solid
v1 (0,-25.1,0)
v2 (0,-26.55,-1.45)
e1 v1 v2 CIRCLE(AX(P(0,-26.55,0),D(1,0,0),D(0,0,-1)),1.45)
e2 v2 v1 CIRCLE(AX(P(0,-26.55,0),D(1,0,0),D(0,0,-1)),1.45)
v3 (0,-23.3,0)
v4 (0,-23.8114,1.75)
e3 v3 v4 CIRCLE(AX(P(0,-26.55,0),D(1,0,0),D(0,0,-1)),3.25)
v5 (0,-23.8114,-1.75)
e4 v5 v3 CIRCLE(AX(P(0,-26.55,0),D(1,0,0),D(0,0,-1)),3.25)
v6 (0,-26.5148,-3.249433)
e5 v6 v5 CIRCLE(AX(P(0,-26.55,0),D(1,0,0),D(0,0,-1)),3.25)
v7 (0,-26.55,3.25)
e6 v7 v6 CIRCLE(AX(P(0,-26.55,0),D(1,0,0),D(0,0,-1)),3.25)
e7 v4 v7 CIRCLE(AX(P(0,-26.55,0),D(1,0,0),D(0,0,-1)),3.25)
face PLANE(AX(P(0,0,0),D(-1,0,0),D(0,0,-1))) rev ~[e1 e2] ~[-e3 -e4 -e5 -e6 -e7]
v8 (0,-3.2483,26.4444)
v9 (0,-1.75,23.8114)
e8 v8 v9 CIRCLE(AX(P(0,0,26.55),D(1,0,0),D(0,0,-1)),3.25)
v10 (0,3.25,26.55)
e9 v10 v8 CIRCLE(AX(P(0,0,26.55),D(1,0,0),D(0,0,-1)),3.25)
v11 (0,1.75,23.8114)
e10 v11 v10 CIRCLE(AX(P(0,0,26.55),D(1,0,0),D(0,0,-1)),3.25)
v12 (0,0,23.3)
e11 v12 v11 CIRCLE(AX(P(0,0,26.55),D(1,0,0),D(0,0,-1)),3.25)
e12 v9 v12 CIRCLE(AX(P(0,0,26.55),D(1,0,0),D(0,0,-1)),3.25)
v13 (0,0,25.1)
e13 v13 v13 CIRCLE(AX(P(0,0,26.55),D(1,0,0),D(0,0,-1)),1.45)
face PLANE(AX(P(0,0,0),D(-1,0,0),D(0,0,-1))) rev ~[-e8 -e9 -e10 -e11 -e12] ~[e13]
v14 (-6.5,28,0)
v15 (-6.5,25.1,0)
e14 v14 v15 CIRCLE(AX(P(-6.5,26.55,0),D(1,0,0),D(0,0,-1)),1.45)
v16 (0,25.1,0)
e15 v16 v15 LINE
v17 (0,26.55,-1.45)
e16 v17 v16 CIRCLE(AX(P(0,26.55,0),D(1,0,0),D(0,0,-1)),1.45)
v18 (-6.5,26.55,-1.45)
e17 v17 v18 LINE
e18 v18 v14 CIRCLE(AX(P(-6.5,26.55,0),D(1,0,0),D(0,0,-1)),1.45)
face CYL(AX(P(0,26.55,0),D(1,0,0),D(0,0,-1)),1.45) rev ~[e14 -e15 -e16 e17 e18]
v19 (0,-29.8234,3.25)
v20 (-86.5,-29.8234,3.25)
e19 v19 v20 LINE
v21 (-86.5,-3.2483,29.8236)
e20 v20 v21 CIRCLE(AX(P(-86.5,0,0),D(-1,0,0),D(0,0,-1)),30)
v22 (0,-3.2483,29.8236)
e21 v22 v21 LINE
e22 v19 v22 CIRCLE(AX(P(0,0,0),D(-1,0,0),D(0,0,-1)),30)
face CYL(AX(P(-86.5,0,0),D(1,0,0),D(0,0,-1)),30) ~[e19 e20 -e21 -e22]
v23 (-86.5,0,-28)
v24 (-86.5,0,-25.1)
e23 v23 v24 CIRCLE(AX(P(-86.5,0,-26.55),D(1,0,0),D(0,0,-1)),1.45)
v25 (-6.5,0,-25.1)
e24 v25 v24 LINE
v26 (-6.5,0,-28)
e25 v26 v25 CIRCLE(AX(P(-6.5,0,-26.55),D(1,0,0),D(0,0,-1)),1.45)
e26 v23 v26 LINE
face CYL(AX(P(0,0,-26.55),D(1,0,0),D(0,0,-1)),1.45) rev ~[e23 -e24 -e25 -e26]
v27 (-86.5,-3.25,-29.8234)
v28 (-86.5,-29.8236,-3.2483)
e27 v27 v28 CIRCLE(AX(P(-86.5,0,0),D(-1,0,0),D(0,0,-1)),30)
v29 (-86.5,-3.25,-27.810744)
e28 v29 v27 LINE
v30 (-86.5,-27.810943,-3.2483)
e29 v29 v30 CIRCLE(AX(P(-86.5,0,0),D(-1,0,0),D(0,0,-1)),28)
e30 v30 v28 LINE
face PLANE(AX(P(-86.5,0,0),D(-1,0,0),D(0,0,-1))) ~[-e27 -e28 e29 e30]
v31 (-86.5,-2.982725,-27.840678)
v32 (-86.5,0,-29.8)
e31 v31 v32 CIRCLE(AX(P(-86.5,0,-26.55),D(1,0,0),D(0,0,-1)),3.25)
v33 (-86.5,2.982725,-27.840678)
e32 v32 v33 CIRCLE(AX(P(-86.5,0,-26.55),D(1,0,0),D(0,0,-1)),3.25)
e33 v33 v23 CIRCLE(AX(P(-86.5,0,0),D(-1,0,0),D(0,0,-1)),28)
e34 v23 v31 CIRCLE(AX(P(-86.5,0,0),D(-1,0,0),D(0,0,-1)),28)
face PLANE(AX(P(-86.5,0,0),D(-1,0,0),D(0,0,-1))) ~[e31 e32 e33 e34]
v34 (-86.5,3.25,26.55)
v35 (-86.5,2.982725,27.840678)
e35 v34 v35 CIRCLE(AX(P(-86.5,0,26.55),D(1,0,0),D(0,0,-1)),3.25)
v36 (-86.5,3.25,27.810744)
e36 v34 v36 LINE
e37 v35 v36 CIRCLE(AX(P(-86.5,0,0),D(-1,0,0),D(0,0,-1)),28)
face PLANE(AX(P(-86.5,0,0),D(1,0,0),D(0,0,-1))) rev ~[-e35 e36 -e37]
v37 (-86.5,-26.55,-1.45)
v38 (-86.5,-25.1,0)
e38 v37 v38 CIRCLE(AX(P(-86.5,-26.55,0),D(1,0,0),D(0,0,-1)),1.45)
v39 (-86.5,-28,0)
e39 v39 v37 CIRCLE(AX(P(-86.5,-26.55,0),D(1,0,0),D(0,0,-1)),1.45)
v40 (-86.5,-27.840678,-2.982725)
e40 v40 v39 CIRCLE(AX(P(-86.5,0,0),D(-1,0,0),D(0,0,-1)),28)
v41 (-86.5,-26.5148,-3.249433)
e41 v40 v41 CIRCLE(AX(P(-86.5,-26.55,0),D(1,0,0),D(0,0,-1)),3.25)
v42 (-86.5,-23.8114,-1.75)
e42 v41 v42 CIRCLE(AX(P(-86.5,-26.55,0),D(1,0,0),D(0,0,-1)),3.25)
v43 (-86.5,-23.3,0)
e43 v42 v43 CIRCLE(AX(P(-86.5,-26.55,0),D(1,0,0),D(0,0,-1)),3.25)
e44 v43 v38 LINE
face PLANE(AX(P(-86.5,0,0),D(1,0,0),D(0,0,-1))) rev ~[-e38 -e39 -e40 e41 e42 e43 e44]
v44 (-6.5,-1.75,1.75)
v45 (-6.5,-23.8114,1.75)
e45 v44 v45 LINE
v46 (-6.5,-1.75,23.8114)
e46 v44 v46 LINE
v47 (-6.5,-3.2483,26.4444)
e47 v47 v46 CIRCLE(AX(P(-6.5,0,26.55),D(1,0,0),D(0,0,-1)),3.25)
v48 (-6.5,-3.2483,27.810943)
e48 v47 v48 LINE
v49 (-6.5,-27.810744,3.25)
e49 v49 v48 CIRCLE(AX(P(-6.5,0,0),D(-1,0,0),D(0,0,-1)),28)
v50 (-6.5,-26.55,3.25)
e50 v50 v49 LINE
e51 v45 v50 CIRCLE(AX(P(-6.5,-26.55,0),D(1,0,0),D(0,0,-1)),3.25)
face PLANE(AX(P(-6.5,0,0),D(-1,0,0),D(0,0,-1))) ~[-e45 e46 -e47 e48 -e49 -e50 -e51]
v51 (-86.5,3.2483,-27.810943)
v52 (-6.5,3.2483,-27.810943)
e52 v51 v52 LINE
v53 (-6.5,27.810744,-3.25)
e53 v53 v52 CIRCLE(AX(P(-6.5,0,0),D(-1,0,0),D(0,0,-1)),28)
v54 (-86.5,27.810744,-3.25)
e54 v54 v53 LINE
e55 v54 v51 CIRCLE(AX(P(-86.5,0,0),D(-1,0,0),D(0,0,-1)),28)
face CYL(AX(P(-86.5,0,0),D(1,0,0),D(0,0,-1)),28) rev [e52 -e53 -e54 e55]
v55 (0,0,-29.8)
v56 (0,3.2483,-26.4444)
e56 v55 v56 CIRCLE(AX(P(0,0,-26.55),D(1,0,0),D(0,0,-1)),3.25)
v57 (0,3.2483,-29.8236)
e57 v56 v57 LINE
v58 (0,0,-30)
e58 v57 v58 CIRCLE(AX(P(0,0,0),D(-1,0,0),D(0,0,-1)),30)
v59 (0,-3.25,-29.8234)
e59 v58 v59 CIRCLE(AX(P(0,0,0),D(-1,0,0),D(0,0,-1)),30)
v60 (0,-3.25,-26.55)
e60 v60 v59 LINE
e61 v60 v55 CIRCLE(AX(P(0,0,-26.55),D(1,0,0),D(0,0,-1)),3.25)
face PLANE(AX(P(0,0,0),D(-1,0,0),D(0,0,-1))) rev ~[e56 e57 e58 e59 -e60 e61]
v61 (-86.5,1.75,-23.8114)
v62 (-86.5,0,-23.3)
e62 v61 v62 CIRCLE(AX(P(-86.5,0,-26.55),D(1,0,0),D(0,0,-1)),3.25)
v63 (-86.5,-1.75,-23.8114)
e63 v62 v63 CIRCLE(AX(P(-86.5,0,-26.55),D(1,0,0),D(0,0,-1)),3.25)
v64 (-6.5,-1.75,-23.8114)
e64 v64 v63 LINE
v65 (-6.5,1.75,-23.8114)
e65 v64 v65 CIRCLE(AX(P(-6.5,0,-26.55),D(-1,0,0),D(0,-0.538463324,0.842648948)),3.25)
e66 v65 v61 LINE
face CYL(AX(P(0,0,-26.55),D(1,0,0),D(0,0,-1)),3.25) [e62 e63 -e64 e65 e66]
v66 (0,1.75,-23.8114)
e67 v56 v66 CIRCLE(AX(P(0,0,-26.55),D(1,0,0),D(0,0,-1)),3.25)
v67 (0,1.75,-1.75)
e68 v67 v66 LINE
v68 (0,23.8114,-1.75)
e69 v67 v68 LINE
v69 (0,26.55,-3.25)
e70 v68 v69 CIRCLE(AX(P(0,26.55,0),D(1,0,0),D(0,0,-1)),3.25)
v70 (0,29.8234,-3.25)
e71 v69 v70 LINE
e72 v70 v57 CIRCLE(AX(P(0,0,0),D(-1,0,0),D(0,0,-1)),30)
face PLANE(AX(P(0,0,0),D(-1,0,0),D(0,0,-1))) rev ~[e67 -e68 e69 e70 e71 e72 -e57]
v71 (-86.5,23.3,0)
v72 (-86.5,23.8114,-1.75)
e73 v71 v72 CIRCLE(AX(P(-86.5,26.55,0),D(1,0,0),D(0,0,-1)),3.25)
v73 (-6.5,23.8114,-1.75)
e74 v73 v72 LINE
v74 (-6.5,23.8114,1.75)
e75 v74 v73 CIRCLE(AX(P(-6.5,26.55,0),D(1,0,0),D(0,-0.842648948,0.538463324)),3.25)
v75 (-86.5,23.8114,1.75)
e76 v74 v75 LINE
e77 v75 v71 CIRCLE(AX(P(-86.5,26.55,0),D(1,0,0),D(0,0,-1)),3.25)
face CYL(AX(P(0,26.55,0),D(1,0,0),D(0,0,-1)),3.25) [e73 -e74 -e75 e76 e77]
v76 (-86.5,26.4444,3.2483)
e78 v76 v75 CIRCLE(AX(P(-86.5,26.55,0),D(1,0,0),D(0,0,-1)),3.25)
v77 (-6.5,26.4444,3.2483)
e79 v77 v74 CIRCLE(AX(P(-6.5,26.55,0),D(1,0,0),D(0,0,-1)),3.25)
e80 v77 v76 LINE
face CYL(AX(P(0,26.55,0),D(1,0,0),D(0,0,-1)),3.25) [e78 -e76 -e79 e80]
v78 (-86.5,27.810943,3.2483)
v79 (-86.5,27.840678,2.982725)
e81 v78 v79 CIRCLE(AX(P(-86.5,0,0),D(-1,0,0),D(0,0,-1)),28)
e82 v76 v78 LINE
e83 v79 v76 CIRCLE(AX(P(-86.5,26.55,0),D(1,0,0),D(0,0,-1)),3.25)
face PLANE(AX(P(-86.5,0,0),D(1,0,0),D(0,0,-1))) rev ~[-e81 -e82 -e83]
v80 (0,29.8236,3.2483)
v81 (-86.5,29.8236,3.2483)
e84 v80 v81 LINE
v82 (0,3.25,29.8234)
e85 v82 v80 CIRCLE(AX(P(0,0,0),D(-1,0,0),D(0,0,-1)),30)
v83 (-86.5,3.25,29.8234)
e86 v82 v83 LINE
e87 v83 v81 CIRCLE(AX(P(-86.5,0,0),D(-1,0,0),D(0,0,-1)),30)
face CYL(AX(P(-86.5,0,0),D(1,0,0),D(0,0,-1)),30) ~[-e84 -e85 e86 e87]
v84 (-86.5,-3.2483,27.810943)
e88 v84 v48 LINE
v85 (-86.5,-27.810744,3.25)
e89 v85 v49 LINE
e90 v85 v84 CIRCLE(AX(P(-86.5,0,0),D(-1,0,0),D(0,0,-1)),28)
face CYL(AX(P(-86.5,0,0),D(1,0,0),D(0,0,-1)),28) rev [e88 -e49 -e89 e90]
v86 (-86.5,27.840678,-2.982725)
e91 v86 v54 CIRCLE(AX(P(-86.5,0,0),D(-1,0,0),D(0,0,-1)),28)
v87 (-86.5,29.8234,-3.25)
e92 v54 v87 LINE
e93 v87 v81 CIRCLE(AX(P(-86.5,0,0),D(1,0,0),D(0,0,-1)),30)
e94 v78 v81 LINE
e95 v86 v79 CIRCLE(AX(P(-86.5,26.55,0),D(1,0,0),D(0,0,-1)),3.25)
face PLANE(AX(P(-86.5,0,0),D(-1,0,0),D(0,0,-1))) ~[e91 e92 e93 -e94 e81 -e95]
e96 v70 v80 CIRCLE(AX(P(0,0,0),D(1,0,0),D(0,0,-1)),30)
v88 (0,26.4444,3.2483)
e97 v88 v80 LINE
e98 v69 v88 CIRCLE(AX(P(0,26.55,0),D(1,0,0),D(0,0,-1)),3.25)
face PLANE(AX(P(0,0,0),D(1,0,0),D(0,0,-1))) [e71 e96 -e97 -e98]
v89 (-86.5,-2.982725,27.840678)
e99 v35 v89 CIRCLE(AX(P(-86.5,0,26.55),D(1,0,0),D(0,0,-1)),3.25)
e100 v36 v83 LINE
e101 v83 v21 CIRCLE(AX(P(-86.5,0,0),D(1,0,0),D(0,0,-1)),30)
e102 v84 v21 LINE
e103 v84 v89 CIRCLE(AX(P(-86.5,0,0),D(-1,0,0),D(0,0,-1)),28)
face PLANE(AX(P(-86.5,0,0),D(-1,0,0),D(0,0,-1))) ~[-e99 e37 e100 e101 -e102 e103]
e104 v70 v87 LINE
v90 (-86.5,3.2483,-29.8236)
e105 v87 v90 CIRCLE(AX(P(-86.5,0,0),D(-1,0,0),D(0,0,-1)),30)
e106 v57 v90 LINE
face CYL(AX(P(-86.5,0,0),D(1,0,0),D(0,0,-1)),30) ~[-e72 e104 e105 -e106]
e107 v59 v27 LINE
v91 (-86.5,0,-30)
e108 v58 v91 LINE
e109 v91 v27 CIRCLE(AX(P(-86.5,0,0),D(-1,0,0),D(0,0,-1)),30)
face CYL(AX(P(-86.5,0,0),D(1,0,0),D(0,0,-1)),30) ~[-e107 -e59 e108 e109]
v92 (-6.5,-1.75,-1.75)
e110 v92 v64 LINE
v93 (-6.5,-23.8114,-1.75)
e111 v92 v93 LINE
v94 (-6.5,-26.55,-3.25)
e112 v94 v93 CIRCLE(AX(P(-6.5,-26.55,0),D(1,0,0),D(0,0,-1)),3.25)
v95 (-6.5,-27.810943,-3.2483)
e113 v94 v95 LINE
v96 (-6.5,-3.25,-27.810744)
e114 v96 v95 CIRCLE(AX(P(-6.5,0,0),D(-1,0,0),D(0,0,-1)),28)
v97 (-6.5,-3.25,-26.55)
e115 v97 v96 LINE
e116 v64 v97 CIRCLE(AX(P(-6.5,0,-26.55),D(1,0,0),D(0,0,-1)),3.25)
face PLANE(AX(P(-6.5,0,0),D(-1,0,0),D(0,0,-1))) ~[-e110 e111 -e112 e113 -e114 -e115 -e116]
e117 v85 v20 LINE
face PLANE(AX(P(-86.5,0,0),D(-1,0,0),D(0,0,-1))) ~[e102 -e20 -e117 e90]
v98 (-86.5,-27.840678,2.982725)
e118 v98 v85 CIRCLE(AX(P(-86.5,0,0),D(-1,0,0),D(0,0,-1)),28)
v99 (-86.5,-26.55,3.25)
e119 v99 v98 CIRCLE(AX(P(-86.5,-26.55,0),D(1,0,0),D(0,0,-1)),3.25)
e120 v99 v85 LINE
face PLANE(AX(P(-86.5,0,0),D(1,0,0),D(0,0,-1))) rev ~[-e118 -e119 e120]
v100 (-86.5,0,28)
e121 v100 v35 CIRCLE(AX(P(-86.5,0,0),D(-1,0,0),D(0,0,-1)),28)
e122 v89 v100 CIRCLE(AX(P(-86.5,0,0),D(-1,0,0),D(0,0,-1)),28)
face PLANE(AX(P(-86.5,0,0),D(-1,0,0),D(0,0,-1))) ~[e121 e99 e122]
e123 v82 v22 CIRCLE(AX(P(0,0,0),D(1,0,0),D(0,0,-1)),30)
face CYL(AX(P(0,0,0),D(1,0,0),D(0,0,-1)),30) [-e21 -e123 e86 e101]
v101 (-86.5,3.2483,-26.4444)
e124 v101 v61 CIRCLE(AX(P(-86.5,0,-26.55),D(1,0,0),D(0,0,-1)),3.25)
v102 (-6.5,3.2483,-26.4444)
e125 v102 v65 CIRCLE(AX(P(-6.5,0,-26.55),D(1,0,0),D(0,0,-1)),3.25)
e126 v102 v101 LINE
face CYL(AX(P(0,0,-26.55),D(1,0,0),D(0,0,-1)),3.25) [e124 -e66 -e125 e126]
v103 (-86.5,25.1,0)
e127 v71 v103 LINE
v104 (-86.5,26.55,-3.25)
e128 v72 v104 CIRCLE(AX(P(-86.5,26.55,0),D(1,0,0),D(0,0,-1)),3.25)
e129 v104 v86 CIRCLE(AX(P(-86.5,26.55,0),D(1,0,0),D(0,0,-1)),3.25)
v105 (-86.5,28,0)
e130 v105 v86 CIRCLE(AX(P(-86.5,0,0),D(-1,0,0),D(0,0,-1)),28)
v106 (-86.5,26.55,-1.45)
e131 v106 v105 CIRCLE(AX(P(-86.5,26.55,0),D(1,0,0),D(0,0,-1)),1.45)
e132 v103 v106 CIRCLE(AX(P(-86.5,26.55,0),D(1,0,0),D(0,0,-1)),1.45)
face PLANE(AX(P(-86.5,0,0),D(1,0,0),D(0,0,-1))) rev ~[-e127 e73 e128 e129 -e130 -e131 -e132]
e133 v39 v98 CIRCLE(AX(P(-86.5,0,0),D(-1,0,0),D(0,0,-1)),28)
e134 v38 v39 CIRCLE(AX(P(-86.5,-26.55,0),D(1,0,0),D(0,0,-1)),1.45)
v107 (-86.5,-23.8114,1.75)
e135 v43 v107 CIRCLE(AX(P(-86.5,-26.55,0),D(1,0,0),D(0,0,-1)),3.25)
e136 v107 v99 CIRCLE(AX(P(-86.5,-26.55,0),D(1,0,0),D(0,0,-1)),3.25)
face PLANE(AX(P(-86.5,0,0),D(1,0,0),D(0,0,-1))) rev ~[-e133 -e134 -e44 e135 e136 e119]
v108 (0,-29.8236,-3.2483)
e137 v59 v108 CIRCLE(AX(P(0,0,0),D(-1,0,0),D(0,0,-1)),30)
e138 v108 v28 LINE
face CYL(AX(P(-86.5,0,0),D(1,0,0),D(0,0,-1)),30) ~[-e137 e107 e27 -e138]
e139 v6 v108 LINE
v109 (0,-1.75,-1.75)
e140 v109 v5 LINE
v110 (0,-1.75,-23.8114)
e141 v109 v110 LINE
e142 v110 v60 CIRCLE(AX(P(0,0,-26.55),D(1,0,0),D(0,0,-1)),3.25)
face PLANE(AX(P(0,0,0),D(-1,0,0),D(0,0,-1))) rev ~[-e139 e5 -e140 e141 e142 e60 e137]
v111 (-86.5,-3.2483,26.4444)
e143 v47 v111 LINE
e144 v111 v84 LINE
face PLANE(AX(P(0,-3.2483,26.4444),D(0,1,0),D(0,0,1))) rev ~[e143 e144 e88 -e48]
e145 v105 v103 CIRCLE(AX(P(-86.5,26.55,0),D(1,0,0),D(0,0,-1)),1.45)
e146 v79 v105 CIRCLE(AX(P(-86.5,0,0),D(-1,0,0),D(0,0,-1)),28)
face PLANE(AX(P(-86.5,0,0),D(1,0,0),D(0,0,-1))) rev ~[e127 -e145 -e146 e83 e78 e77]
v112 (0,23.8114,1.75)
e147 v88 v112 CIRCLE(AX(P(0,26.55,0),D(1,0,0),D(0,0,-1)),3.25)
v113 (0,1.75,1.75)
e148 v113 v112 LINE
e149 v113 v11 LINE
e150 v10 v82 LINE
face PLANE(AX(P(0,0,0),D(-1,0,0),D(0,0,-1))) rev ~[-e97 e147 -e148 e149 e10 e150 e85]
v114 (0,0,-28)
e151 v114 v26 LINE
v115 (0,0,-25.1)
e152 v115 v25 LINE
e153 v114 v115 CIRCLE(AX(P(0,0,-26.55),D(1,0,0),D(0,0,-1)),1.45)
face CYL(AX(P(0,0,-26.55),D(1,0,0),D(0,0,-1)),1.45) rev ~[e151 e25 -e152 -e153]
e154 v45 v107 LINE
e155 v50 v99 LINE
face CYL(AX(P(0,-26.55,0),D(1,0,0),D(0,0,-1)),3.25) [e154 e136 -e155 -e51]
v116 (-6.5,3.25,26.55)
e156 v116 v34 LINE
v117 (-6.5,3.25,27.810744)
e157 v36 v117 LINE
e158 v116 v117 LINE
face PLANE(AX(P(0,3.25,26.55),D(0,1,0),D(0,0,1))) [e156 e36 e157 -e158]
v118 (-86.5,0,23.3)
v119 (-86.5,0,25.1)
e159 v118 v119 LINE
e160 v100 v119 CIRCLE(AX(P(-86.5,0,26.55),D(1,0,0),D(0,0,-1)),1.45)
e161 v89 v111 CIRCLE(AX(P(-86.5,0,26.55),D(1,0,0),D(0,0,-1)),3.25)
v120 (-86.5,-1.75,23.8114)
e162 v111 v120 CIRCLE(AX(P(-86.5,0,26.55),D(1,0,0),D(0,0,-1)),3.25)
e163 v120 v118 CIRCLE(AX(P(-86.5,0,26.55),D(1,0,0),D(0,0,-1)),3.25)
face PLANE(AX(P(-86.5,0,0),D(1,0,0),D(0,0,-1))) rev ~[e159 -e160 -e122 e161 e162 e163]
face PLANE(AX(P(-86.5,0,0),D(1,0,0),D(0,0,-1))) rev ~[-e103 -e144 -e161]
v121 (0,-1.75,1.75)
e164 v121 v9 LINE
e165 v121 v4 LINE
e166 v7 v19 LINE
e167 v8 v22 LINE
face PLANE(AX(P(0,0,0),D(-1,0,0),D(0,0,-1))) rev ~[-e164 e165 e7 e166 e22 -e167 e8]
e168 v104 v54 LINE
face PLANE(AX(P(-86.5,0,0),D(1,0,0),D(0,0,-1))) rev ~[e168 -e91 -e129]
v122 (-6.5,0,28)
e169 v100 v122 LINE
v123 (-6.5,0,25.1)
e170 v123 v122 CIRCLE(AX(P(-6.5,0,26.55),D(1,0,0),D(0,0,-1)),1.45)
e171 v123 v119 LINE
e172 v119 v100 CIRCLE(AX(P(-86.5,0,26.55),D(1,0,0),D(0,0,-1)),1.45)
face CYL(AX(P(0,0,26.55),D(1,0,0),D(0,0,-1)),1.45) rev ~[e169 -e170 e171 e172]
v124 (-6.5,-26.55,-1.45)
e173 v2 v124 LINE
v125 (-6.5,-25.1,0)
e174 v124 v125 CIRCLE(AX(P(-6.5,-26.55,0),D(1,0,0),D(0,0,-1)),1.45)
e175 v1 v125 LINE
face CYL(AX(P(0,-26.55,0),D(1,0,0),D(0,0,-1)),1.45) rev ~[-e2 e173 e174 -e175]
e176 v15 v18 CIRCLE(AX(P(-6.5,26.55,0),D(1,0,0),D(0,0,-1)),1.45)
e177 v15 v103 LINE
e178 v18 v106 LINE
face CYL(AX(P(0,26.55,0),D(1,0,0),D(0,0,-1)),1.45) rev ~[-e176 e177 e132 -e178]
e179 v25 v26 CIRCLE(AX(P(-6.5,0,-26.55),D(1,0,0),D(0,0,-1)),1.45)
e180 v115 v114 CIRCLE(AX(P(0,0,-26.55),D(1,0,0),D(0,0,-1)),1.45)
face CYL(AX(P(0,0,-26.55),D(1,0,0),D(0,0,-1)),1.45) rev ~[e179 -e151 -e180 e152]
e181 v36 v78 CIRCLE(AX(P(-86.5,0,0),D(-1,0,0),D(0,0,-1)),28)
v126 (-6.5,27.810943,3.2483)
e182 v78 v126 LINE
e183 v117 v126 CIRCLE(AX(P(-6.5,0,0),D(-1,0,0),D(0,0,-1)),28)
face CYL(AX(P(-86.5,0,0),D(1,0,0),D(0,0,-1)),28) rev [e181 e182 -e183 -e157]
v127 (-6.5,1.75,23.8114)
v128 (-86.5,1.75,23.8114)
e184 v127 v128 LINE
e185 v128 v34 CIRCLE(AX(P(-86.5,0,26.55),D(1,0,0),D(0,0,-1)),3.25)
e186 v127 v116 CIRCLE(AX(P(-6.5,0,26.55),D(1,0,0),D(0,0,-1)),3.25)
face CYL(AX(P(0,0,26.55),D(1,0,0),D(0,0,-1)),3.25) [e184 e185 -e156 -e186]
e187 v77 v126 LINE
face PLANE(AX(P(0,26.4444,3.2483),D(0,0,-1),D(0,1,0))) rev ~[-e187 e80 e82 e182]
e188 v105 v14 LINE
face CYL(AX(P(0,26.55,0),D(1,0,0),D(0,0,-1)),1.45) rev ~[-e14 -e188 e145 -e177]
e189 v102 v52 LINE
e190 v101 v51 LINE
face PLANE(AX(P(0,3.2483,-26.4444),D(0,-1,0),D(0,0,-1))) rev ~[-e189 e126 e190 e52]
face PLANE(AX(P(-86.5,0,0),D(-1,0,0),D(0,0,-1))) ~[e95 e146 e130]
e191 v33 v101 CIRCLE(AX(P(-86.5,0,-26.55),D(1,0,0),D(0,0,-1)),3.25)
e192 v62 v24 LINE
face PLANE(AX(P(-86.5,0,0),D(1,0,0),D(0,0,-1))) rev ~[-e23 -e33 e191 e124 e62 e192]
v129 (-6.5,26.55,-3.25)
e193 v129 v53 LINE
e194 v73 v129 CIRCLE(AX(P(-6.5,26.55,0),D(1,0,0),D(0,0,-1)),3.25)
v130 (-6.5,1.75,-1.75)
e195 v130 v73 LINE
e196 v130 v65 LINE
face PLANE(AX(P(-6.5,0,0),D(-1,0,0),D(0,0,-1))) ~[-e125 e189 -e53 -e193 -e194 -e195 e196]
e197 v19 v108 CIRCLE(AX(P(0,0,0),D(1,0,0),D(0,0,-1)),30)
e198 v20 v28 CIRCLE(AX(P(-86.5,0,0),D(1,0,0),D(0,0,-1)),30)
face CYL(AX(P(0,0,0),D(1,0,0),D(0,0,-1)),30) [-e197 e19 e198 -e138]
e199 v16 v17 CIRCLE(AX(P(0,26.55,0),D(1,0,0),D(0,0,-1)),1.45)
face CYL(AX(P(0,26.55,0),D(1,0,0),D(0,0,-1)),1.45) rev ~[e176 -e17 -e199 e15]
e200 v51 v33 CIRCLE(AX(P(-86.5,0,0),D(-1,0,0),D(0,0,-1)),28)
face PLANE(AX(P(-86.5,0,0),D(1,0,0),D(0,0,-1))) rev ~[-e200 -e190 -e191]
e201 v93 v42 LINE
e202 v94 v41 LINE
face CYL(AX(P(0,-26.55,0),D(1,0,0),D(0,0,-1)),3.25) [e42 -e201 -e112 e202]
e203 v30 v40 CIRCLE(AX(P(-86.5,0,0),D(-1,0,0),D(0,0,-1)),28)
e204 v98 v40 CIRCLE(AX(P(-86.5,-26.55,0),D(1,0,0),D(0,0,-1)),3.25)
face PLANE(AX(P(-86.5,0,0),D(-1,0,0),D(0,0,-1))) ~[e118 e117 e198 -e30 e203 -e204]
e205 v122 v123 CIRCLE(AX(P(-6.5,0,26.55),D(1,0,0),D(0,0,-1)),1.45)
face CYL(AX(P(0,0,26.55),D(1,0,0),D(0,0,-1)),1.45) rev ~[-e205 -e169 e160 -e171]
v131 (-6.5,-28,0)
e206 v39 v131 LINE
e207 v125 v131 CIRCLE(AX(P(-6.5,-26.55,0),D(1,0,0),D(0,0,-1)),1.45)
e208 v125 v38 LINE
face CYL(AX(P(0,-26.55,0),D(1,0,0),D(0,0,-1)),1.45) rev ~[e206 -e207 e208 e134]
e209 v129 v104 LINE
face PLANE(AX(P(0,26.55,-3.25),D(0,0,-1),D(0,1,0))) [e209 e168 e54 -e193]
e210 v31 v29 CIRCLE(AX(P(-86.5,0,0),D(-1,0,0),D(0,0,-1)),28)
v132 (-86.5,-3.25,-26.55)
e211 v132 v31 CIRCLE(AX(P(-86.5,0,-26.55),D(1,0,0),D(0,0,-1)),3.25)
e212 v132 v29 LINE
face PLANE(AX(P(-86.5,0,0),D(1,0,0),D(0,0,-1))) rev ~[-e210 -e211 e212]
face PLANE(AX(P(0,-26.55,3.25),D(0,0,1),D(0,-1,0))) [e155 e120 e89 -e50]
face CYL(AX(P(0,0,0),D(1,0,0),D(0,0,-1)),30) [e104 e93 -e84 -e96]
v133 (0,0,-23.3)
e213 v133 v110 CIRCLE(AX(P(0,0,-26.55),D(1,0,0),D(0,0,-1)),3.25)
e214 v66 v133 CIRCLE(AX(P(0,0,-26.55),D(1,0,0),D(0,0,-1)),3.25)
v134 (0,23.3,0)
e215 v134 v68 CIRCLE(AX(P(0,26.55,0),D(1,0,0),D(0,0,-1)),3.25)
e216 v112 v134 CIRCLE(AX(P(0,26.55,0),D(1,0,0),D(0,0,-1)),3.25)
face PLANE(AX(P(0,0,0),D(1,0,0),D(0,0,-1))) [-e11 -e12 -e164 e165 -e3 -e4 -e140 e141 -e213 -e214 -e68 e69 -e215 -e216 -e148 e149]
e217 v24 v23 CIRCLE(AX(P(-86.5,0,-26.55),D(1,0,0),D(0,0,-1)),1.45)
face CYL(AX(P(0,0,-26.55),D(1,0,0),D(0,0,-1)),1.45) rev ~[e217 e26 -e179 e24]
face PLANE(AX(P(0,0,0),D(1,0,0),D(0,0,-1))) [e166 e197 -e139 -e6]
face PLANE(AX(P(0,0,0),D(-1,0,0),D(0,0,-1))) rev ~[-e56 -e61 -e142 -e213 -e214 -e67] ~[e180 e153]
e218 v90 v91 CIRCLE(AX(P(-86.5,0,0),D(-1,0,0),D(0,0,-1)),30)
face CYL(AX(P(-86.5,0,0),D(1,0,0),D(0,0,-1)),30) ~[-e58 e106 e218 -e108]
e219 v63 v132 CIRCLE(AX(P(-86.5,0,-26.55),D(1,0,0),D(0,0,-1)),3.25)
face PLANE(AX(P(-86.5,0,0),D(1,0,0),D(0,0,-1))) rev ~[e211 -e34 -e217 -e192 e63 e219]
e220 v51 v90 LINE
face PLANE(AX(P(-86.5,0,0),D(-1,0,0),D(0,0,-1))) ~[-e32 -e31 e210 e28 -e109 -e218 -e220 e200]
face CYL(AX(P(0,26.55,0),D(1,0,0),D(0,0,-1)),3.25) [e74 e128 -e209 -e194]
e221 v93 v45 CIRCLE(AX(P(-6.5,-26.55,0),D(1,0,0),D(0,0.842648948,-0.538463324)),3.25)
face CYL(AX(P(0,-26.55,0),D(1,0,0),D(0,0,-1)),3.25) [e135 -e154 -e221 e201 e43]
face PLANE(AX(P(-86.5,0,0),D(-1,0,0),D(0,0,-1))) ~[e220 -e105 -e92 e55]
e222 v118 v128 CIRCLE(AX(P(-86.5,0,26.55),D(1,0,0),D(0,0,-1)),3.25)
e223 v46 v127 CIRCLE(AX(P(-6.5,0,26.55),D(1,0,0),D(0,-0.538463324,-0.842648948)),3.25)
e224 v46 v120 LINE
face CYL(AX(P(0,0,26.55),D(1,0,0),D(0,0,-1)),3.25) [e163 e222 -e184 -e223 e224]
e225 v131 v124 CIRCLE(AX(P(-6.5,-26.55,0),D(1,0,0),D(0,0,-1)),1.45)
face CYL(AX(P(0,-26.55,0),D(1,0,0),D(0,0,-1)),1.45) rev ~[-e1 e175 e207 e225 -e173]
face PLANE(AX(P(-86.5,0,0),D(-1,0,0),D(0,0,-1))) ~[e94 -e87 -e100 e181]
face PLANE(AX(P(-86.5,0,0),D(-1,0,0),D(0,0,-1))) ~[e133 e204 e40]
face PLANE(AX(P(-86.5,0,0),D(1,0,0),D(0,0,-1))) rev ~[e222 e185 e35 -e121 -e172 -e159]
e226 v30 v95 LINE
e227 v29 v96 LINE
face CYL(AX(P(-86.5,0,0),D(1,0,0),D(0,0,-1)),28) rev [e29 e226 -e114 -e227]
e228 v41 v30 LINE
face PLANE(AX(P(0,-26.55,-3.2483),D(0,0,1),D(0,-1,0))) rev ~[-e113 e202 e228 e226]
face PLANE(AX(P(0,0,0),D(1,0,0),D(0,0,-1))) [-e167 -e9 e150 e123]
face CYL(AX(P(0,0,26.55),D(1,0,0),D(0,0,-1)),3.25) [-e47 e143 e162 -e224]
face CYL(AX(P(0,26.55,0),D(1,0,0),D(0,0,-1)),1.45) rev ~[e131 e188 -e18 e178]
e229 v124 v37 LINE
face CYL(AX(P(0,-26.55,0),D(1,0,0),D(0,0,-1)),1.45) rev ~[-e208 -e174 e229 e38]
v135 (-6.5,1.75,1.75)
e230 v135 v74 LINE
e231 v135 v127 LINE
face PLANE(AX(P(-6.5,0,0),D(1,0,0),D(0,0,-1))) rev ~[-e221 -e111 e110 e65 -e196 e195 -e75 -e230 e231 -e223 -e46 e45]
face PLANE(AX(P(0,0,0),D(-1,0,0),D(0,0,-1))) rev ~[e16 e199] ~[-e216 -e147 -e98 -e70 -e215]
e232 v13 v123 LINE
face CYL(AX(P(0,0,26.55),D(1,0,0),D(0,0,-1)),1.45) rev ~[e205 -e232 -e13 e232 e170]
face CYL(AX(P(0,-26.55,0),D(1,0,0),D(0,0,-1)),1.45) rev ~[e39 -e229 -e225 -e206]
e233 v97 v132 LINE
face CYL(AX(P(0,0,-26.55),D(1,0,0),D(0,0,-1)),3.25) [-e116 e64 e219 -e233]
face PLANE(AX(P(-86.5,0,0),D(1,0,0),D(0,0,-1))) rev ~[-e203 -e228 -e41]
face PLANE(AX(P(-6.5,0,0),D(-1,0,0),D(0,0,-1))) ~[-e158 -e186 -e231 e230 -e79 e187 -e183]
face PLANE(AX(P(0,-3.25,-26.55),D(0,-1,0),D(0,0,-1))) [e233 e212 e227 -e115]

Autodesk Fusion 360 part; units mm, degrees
sketch "Sketch1" plane through (0, 0, 0) normal (0, 1, 0) x (1, 0, 0)
  line L0 (0, 0) -> (-86.5, 0)
  line L1 (-86.5, 0) -> (-86.5, 30)
  line L2 (-86.5, 30) -> (0, 30)
  line L3 (0, 30) -> (0, 0)
  line L4 (0, 0) -> (-6.5, 0)
  line L5 (-6.5, 0) -> (-6.5, 30)
  line L6 (-6.5, 30) -> (0, 30)
  line L7 (0, 30) -> (0, 0)
  line L8 (0, 0) -> (-86.5, 0)
  line L9 (-86.5, 0) -> (-86.5, 28)
  line L10 (-86.5, 28) -> (0, 28)
  line L11 (0, 28) -> (0, 0)
  line L12 (-6.5, 0) -> (-86.5, 0)
  line L13 (-46.5, 0) -> (-6.5, 0)
  line L14 (-86.5, 0) -> (-83.5, 0)
  dimension "d1" = 86.5
  dimension "d2" = 30
  dimension "d3" = 6.5
  dimension "d4" = 30
  dimension "d5" = 86.5
  dimension "d6" = 28
revolve "Revolve1" add sketch "Sketch1" angle 360 about axis through (-6.5, 0, 0) along (-1, 0, 0) contours L0 L3 L4 L5 L7 L8 L10 L11 | L2 L3 L5 L6 L7 L10 | L1 L2 L5 L10
sketch "Sketch2" plane through (0, 0, 0) normal (1, 0, 0) x (0, 0, -1)
  circle A0 centre (0, 0) radius 30
  line L0 (0, 0) -> (0, 26.55)
  circle A1 centre (0, 26.55) radius 1.25
  circle A2 centre (0, 26.55) radius 1.45
  circle A3 centre (0, 26.55) radius 3.25
  line L1 (-3.2483, 26.4444) -> (-3.2483, 29.8236)
  line L2 (3.25, 23.9996) -> (3.25, 29.8234)
  line L3 (0, 0) -> (1.75, 0)
  line L4 (1.75, 0) -> (1.75, 23.8114)
  line L5 (-1.75, 0) -> (-1.75, 23.8114)
  line L6 (0, 0) -> (-1.75, 0)
  line L7 (-26.4444, -3.2483) -> (-29.8236, -3.2483)
  line L8 (-23.9996, 3.25) -> (-29.8234, 3.25)
  circle A4 centre (-26.55, 0) radius 3.25
  circle A5 centre (-26.55, 0) radius 1.45
  circle A6 centre (-26.55, 0) radius 1.25
  line L9 (0, 0) -> (-26.55, 0)
  line L10 (0, -1.75) -> (-23.8114, -1.75)
  line L11 (0, 1.75) -> (-23.8114, 1.75)
  line L12 (0, 0) -> (0, -1.75)
  line L13 (0, 0) -> (0, 1.75)
  line L14 (3.2483, -26.4444) -> (3.2483, -29.8236)
  line L15 (-3.25, -23.9996) -> (-3.25, -29.8234)
  circle A7 centre (0, -26.55) radius 3.25
  circle A8 centre (0, -26.55) radius 1.45
  circle A9 centre (0, -26.55) radius 1.25
  line L16 (0, 0) -> (0, -26.55)
  line L17 (1.75, 0) -> (1.75, -23.8114)
  line L18 (-1.75, 0) -> (-1.75, -23.8114)
  line L19 (0, 0) -> (1.75, 0)
  line L20 (0, 0) -> (-1.75, 0)
  line L21 (26.4444, 3.2483) -> (29.8236, 3.2483)
  line L22 (23.9996, -3.25) -> (29.8234, -3.25)
  circle A10 centre (26.55, 0) radius 3.25
  circle A11 centre (26.55, 0) radius 1.45
  circle A12 centre (26.55, 0) radius 1.25
  line L23 (0, 0) -> (26.55, 0)
  line L24 (0, 1.75) -> (23.8114, 1.75)
  line L25 (0, -1.75) -> (23.8114, -1.75)
  line L26 (0, 0) -> (0, 1.75)
  line L27 (0, 0) -> (0, -1.75)
  point P0 (-4, 24)
  point P1 (3.25, 23.9996)
  dimension "d10" = 26.55
  dimension "d11" = 2.5
  dimension "d12" = 0.2
  dimension "d13" = 6.5
  dimension "d14" = 1.75
  dimension "d16" = 360
extrude "Extrude1" cut sketch "Sketch2" against normal blind 86.5 contours A12 | A11 | A1 | A2 | A9 | A8 | A6 | A5
extrude "Extrude2" add sketch "Sketch2" against normal blind 86.5 contours A10 | A0 L21 L22 A10 | A3 | A0 A3 L1 L2 | A0 L14 L15 A7 | L4 A10 L23 L24 | A0 L7 L8 A4 | L14 A7 | L17 A10 L23 L25 | L0 A3 L4 L24 | L0 L3 L4 L13 L19 L23 L24 L26 | L3 L12 L16 L17 L19 L23 L25 L27 | A7 L16 L17 L25 | A4 | L0 A3 L5 L11 | L0 L5 L6 L9 L11 L13 L20 L26 | L10 A7 L16 L18 | L6 L9 L10 L12 L16 L18 L20 L27 | L5 A4 L9 L11 | A4 L9 L10 L18
extrude "Extrude3" cut sketch "Sketch2" against normal blind 86.5 contours L4 A10 L23 L24 | L17 A10 L23 L25 | L0 A3 L4 L24 | L0 L3 L4 L13 L19 L23 L24 L26 | L3 L12 L16 L17 L19 L23 L25 L27 | A7 L16 L17 L25 | L0 A3 L5 L11 | L0 L5 L6 L9 L11 L13 L20 L26 | L10 A7 L16 L18 | L6 L9 L10 L12 L16 L18 L20 L27 | L5 A4 L9 L11 | A4 L9 L10 L18
extrude "Extrude4" add sketch "Sketch2" against normal blind 6.5 contours L4 A10 L23 L24 | L17 A10 L23 L25 | L0 A3 L4 L24 | L0 L3 L4 L13 L19 L23 L24 L26 | L3 L12 L16 L17 L19 L23 L25 L27 | A7 L16 L17 L25 | L0 A3 L5 L11 | L0 L5 L6 L9 L11 L13 L20 L26 | L10 A7 L16 L18 | L6 L9 L10 L12 L16 L18 L20 L27 | L5 A4 L9 L11 | A4 L9 L10 L18
